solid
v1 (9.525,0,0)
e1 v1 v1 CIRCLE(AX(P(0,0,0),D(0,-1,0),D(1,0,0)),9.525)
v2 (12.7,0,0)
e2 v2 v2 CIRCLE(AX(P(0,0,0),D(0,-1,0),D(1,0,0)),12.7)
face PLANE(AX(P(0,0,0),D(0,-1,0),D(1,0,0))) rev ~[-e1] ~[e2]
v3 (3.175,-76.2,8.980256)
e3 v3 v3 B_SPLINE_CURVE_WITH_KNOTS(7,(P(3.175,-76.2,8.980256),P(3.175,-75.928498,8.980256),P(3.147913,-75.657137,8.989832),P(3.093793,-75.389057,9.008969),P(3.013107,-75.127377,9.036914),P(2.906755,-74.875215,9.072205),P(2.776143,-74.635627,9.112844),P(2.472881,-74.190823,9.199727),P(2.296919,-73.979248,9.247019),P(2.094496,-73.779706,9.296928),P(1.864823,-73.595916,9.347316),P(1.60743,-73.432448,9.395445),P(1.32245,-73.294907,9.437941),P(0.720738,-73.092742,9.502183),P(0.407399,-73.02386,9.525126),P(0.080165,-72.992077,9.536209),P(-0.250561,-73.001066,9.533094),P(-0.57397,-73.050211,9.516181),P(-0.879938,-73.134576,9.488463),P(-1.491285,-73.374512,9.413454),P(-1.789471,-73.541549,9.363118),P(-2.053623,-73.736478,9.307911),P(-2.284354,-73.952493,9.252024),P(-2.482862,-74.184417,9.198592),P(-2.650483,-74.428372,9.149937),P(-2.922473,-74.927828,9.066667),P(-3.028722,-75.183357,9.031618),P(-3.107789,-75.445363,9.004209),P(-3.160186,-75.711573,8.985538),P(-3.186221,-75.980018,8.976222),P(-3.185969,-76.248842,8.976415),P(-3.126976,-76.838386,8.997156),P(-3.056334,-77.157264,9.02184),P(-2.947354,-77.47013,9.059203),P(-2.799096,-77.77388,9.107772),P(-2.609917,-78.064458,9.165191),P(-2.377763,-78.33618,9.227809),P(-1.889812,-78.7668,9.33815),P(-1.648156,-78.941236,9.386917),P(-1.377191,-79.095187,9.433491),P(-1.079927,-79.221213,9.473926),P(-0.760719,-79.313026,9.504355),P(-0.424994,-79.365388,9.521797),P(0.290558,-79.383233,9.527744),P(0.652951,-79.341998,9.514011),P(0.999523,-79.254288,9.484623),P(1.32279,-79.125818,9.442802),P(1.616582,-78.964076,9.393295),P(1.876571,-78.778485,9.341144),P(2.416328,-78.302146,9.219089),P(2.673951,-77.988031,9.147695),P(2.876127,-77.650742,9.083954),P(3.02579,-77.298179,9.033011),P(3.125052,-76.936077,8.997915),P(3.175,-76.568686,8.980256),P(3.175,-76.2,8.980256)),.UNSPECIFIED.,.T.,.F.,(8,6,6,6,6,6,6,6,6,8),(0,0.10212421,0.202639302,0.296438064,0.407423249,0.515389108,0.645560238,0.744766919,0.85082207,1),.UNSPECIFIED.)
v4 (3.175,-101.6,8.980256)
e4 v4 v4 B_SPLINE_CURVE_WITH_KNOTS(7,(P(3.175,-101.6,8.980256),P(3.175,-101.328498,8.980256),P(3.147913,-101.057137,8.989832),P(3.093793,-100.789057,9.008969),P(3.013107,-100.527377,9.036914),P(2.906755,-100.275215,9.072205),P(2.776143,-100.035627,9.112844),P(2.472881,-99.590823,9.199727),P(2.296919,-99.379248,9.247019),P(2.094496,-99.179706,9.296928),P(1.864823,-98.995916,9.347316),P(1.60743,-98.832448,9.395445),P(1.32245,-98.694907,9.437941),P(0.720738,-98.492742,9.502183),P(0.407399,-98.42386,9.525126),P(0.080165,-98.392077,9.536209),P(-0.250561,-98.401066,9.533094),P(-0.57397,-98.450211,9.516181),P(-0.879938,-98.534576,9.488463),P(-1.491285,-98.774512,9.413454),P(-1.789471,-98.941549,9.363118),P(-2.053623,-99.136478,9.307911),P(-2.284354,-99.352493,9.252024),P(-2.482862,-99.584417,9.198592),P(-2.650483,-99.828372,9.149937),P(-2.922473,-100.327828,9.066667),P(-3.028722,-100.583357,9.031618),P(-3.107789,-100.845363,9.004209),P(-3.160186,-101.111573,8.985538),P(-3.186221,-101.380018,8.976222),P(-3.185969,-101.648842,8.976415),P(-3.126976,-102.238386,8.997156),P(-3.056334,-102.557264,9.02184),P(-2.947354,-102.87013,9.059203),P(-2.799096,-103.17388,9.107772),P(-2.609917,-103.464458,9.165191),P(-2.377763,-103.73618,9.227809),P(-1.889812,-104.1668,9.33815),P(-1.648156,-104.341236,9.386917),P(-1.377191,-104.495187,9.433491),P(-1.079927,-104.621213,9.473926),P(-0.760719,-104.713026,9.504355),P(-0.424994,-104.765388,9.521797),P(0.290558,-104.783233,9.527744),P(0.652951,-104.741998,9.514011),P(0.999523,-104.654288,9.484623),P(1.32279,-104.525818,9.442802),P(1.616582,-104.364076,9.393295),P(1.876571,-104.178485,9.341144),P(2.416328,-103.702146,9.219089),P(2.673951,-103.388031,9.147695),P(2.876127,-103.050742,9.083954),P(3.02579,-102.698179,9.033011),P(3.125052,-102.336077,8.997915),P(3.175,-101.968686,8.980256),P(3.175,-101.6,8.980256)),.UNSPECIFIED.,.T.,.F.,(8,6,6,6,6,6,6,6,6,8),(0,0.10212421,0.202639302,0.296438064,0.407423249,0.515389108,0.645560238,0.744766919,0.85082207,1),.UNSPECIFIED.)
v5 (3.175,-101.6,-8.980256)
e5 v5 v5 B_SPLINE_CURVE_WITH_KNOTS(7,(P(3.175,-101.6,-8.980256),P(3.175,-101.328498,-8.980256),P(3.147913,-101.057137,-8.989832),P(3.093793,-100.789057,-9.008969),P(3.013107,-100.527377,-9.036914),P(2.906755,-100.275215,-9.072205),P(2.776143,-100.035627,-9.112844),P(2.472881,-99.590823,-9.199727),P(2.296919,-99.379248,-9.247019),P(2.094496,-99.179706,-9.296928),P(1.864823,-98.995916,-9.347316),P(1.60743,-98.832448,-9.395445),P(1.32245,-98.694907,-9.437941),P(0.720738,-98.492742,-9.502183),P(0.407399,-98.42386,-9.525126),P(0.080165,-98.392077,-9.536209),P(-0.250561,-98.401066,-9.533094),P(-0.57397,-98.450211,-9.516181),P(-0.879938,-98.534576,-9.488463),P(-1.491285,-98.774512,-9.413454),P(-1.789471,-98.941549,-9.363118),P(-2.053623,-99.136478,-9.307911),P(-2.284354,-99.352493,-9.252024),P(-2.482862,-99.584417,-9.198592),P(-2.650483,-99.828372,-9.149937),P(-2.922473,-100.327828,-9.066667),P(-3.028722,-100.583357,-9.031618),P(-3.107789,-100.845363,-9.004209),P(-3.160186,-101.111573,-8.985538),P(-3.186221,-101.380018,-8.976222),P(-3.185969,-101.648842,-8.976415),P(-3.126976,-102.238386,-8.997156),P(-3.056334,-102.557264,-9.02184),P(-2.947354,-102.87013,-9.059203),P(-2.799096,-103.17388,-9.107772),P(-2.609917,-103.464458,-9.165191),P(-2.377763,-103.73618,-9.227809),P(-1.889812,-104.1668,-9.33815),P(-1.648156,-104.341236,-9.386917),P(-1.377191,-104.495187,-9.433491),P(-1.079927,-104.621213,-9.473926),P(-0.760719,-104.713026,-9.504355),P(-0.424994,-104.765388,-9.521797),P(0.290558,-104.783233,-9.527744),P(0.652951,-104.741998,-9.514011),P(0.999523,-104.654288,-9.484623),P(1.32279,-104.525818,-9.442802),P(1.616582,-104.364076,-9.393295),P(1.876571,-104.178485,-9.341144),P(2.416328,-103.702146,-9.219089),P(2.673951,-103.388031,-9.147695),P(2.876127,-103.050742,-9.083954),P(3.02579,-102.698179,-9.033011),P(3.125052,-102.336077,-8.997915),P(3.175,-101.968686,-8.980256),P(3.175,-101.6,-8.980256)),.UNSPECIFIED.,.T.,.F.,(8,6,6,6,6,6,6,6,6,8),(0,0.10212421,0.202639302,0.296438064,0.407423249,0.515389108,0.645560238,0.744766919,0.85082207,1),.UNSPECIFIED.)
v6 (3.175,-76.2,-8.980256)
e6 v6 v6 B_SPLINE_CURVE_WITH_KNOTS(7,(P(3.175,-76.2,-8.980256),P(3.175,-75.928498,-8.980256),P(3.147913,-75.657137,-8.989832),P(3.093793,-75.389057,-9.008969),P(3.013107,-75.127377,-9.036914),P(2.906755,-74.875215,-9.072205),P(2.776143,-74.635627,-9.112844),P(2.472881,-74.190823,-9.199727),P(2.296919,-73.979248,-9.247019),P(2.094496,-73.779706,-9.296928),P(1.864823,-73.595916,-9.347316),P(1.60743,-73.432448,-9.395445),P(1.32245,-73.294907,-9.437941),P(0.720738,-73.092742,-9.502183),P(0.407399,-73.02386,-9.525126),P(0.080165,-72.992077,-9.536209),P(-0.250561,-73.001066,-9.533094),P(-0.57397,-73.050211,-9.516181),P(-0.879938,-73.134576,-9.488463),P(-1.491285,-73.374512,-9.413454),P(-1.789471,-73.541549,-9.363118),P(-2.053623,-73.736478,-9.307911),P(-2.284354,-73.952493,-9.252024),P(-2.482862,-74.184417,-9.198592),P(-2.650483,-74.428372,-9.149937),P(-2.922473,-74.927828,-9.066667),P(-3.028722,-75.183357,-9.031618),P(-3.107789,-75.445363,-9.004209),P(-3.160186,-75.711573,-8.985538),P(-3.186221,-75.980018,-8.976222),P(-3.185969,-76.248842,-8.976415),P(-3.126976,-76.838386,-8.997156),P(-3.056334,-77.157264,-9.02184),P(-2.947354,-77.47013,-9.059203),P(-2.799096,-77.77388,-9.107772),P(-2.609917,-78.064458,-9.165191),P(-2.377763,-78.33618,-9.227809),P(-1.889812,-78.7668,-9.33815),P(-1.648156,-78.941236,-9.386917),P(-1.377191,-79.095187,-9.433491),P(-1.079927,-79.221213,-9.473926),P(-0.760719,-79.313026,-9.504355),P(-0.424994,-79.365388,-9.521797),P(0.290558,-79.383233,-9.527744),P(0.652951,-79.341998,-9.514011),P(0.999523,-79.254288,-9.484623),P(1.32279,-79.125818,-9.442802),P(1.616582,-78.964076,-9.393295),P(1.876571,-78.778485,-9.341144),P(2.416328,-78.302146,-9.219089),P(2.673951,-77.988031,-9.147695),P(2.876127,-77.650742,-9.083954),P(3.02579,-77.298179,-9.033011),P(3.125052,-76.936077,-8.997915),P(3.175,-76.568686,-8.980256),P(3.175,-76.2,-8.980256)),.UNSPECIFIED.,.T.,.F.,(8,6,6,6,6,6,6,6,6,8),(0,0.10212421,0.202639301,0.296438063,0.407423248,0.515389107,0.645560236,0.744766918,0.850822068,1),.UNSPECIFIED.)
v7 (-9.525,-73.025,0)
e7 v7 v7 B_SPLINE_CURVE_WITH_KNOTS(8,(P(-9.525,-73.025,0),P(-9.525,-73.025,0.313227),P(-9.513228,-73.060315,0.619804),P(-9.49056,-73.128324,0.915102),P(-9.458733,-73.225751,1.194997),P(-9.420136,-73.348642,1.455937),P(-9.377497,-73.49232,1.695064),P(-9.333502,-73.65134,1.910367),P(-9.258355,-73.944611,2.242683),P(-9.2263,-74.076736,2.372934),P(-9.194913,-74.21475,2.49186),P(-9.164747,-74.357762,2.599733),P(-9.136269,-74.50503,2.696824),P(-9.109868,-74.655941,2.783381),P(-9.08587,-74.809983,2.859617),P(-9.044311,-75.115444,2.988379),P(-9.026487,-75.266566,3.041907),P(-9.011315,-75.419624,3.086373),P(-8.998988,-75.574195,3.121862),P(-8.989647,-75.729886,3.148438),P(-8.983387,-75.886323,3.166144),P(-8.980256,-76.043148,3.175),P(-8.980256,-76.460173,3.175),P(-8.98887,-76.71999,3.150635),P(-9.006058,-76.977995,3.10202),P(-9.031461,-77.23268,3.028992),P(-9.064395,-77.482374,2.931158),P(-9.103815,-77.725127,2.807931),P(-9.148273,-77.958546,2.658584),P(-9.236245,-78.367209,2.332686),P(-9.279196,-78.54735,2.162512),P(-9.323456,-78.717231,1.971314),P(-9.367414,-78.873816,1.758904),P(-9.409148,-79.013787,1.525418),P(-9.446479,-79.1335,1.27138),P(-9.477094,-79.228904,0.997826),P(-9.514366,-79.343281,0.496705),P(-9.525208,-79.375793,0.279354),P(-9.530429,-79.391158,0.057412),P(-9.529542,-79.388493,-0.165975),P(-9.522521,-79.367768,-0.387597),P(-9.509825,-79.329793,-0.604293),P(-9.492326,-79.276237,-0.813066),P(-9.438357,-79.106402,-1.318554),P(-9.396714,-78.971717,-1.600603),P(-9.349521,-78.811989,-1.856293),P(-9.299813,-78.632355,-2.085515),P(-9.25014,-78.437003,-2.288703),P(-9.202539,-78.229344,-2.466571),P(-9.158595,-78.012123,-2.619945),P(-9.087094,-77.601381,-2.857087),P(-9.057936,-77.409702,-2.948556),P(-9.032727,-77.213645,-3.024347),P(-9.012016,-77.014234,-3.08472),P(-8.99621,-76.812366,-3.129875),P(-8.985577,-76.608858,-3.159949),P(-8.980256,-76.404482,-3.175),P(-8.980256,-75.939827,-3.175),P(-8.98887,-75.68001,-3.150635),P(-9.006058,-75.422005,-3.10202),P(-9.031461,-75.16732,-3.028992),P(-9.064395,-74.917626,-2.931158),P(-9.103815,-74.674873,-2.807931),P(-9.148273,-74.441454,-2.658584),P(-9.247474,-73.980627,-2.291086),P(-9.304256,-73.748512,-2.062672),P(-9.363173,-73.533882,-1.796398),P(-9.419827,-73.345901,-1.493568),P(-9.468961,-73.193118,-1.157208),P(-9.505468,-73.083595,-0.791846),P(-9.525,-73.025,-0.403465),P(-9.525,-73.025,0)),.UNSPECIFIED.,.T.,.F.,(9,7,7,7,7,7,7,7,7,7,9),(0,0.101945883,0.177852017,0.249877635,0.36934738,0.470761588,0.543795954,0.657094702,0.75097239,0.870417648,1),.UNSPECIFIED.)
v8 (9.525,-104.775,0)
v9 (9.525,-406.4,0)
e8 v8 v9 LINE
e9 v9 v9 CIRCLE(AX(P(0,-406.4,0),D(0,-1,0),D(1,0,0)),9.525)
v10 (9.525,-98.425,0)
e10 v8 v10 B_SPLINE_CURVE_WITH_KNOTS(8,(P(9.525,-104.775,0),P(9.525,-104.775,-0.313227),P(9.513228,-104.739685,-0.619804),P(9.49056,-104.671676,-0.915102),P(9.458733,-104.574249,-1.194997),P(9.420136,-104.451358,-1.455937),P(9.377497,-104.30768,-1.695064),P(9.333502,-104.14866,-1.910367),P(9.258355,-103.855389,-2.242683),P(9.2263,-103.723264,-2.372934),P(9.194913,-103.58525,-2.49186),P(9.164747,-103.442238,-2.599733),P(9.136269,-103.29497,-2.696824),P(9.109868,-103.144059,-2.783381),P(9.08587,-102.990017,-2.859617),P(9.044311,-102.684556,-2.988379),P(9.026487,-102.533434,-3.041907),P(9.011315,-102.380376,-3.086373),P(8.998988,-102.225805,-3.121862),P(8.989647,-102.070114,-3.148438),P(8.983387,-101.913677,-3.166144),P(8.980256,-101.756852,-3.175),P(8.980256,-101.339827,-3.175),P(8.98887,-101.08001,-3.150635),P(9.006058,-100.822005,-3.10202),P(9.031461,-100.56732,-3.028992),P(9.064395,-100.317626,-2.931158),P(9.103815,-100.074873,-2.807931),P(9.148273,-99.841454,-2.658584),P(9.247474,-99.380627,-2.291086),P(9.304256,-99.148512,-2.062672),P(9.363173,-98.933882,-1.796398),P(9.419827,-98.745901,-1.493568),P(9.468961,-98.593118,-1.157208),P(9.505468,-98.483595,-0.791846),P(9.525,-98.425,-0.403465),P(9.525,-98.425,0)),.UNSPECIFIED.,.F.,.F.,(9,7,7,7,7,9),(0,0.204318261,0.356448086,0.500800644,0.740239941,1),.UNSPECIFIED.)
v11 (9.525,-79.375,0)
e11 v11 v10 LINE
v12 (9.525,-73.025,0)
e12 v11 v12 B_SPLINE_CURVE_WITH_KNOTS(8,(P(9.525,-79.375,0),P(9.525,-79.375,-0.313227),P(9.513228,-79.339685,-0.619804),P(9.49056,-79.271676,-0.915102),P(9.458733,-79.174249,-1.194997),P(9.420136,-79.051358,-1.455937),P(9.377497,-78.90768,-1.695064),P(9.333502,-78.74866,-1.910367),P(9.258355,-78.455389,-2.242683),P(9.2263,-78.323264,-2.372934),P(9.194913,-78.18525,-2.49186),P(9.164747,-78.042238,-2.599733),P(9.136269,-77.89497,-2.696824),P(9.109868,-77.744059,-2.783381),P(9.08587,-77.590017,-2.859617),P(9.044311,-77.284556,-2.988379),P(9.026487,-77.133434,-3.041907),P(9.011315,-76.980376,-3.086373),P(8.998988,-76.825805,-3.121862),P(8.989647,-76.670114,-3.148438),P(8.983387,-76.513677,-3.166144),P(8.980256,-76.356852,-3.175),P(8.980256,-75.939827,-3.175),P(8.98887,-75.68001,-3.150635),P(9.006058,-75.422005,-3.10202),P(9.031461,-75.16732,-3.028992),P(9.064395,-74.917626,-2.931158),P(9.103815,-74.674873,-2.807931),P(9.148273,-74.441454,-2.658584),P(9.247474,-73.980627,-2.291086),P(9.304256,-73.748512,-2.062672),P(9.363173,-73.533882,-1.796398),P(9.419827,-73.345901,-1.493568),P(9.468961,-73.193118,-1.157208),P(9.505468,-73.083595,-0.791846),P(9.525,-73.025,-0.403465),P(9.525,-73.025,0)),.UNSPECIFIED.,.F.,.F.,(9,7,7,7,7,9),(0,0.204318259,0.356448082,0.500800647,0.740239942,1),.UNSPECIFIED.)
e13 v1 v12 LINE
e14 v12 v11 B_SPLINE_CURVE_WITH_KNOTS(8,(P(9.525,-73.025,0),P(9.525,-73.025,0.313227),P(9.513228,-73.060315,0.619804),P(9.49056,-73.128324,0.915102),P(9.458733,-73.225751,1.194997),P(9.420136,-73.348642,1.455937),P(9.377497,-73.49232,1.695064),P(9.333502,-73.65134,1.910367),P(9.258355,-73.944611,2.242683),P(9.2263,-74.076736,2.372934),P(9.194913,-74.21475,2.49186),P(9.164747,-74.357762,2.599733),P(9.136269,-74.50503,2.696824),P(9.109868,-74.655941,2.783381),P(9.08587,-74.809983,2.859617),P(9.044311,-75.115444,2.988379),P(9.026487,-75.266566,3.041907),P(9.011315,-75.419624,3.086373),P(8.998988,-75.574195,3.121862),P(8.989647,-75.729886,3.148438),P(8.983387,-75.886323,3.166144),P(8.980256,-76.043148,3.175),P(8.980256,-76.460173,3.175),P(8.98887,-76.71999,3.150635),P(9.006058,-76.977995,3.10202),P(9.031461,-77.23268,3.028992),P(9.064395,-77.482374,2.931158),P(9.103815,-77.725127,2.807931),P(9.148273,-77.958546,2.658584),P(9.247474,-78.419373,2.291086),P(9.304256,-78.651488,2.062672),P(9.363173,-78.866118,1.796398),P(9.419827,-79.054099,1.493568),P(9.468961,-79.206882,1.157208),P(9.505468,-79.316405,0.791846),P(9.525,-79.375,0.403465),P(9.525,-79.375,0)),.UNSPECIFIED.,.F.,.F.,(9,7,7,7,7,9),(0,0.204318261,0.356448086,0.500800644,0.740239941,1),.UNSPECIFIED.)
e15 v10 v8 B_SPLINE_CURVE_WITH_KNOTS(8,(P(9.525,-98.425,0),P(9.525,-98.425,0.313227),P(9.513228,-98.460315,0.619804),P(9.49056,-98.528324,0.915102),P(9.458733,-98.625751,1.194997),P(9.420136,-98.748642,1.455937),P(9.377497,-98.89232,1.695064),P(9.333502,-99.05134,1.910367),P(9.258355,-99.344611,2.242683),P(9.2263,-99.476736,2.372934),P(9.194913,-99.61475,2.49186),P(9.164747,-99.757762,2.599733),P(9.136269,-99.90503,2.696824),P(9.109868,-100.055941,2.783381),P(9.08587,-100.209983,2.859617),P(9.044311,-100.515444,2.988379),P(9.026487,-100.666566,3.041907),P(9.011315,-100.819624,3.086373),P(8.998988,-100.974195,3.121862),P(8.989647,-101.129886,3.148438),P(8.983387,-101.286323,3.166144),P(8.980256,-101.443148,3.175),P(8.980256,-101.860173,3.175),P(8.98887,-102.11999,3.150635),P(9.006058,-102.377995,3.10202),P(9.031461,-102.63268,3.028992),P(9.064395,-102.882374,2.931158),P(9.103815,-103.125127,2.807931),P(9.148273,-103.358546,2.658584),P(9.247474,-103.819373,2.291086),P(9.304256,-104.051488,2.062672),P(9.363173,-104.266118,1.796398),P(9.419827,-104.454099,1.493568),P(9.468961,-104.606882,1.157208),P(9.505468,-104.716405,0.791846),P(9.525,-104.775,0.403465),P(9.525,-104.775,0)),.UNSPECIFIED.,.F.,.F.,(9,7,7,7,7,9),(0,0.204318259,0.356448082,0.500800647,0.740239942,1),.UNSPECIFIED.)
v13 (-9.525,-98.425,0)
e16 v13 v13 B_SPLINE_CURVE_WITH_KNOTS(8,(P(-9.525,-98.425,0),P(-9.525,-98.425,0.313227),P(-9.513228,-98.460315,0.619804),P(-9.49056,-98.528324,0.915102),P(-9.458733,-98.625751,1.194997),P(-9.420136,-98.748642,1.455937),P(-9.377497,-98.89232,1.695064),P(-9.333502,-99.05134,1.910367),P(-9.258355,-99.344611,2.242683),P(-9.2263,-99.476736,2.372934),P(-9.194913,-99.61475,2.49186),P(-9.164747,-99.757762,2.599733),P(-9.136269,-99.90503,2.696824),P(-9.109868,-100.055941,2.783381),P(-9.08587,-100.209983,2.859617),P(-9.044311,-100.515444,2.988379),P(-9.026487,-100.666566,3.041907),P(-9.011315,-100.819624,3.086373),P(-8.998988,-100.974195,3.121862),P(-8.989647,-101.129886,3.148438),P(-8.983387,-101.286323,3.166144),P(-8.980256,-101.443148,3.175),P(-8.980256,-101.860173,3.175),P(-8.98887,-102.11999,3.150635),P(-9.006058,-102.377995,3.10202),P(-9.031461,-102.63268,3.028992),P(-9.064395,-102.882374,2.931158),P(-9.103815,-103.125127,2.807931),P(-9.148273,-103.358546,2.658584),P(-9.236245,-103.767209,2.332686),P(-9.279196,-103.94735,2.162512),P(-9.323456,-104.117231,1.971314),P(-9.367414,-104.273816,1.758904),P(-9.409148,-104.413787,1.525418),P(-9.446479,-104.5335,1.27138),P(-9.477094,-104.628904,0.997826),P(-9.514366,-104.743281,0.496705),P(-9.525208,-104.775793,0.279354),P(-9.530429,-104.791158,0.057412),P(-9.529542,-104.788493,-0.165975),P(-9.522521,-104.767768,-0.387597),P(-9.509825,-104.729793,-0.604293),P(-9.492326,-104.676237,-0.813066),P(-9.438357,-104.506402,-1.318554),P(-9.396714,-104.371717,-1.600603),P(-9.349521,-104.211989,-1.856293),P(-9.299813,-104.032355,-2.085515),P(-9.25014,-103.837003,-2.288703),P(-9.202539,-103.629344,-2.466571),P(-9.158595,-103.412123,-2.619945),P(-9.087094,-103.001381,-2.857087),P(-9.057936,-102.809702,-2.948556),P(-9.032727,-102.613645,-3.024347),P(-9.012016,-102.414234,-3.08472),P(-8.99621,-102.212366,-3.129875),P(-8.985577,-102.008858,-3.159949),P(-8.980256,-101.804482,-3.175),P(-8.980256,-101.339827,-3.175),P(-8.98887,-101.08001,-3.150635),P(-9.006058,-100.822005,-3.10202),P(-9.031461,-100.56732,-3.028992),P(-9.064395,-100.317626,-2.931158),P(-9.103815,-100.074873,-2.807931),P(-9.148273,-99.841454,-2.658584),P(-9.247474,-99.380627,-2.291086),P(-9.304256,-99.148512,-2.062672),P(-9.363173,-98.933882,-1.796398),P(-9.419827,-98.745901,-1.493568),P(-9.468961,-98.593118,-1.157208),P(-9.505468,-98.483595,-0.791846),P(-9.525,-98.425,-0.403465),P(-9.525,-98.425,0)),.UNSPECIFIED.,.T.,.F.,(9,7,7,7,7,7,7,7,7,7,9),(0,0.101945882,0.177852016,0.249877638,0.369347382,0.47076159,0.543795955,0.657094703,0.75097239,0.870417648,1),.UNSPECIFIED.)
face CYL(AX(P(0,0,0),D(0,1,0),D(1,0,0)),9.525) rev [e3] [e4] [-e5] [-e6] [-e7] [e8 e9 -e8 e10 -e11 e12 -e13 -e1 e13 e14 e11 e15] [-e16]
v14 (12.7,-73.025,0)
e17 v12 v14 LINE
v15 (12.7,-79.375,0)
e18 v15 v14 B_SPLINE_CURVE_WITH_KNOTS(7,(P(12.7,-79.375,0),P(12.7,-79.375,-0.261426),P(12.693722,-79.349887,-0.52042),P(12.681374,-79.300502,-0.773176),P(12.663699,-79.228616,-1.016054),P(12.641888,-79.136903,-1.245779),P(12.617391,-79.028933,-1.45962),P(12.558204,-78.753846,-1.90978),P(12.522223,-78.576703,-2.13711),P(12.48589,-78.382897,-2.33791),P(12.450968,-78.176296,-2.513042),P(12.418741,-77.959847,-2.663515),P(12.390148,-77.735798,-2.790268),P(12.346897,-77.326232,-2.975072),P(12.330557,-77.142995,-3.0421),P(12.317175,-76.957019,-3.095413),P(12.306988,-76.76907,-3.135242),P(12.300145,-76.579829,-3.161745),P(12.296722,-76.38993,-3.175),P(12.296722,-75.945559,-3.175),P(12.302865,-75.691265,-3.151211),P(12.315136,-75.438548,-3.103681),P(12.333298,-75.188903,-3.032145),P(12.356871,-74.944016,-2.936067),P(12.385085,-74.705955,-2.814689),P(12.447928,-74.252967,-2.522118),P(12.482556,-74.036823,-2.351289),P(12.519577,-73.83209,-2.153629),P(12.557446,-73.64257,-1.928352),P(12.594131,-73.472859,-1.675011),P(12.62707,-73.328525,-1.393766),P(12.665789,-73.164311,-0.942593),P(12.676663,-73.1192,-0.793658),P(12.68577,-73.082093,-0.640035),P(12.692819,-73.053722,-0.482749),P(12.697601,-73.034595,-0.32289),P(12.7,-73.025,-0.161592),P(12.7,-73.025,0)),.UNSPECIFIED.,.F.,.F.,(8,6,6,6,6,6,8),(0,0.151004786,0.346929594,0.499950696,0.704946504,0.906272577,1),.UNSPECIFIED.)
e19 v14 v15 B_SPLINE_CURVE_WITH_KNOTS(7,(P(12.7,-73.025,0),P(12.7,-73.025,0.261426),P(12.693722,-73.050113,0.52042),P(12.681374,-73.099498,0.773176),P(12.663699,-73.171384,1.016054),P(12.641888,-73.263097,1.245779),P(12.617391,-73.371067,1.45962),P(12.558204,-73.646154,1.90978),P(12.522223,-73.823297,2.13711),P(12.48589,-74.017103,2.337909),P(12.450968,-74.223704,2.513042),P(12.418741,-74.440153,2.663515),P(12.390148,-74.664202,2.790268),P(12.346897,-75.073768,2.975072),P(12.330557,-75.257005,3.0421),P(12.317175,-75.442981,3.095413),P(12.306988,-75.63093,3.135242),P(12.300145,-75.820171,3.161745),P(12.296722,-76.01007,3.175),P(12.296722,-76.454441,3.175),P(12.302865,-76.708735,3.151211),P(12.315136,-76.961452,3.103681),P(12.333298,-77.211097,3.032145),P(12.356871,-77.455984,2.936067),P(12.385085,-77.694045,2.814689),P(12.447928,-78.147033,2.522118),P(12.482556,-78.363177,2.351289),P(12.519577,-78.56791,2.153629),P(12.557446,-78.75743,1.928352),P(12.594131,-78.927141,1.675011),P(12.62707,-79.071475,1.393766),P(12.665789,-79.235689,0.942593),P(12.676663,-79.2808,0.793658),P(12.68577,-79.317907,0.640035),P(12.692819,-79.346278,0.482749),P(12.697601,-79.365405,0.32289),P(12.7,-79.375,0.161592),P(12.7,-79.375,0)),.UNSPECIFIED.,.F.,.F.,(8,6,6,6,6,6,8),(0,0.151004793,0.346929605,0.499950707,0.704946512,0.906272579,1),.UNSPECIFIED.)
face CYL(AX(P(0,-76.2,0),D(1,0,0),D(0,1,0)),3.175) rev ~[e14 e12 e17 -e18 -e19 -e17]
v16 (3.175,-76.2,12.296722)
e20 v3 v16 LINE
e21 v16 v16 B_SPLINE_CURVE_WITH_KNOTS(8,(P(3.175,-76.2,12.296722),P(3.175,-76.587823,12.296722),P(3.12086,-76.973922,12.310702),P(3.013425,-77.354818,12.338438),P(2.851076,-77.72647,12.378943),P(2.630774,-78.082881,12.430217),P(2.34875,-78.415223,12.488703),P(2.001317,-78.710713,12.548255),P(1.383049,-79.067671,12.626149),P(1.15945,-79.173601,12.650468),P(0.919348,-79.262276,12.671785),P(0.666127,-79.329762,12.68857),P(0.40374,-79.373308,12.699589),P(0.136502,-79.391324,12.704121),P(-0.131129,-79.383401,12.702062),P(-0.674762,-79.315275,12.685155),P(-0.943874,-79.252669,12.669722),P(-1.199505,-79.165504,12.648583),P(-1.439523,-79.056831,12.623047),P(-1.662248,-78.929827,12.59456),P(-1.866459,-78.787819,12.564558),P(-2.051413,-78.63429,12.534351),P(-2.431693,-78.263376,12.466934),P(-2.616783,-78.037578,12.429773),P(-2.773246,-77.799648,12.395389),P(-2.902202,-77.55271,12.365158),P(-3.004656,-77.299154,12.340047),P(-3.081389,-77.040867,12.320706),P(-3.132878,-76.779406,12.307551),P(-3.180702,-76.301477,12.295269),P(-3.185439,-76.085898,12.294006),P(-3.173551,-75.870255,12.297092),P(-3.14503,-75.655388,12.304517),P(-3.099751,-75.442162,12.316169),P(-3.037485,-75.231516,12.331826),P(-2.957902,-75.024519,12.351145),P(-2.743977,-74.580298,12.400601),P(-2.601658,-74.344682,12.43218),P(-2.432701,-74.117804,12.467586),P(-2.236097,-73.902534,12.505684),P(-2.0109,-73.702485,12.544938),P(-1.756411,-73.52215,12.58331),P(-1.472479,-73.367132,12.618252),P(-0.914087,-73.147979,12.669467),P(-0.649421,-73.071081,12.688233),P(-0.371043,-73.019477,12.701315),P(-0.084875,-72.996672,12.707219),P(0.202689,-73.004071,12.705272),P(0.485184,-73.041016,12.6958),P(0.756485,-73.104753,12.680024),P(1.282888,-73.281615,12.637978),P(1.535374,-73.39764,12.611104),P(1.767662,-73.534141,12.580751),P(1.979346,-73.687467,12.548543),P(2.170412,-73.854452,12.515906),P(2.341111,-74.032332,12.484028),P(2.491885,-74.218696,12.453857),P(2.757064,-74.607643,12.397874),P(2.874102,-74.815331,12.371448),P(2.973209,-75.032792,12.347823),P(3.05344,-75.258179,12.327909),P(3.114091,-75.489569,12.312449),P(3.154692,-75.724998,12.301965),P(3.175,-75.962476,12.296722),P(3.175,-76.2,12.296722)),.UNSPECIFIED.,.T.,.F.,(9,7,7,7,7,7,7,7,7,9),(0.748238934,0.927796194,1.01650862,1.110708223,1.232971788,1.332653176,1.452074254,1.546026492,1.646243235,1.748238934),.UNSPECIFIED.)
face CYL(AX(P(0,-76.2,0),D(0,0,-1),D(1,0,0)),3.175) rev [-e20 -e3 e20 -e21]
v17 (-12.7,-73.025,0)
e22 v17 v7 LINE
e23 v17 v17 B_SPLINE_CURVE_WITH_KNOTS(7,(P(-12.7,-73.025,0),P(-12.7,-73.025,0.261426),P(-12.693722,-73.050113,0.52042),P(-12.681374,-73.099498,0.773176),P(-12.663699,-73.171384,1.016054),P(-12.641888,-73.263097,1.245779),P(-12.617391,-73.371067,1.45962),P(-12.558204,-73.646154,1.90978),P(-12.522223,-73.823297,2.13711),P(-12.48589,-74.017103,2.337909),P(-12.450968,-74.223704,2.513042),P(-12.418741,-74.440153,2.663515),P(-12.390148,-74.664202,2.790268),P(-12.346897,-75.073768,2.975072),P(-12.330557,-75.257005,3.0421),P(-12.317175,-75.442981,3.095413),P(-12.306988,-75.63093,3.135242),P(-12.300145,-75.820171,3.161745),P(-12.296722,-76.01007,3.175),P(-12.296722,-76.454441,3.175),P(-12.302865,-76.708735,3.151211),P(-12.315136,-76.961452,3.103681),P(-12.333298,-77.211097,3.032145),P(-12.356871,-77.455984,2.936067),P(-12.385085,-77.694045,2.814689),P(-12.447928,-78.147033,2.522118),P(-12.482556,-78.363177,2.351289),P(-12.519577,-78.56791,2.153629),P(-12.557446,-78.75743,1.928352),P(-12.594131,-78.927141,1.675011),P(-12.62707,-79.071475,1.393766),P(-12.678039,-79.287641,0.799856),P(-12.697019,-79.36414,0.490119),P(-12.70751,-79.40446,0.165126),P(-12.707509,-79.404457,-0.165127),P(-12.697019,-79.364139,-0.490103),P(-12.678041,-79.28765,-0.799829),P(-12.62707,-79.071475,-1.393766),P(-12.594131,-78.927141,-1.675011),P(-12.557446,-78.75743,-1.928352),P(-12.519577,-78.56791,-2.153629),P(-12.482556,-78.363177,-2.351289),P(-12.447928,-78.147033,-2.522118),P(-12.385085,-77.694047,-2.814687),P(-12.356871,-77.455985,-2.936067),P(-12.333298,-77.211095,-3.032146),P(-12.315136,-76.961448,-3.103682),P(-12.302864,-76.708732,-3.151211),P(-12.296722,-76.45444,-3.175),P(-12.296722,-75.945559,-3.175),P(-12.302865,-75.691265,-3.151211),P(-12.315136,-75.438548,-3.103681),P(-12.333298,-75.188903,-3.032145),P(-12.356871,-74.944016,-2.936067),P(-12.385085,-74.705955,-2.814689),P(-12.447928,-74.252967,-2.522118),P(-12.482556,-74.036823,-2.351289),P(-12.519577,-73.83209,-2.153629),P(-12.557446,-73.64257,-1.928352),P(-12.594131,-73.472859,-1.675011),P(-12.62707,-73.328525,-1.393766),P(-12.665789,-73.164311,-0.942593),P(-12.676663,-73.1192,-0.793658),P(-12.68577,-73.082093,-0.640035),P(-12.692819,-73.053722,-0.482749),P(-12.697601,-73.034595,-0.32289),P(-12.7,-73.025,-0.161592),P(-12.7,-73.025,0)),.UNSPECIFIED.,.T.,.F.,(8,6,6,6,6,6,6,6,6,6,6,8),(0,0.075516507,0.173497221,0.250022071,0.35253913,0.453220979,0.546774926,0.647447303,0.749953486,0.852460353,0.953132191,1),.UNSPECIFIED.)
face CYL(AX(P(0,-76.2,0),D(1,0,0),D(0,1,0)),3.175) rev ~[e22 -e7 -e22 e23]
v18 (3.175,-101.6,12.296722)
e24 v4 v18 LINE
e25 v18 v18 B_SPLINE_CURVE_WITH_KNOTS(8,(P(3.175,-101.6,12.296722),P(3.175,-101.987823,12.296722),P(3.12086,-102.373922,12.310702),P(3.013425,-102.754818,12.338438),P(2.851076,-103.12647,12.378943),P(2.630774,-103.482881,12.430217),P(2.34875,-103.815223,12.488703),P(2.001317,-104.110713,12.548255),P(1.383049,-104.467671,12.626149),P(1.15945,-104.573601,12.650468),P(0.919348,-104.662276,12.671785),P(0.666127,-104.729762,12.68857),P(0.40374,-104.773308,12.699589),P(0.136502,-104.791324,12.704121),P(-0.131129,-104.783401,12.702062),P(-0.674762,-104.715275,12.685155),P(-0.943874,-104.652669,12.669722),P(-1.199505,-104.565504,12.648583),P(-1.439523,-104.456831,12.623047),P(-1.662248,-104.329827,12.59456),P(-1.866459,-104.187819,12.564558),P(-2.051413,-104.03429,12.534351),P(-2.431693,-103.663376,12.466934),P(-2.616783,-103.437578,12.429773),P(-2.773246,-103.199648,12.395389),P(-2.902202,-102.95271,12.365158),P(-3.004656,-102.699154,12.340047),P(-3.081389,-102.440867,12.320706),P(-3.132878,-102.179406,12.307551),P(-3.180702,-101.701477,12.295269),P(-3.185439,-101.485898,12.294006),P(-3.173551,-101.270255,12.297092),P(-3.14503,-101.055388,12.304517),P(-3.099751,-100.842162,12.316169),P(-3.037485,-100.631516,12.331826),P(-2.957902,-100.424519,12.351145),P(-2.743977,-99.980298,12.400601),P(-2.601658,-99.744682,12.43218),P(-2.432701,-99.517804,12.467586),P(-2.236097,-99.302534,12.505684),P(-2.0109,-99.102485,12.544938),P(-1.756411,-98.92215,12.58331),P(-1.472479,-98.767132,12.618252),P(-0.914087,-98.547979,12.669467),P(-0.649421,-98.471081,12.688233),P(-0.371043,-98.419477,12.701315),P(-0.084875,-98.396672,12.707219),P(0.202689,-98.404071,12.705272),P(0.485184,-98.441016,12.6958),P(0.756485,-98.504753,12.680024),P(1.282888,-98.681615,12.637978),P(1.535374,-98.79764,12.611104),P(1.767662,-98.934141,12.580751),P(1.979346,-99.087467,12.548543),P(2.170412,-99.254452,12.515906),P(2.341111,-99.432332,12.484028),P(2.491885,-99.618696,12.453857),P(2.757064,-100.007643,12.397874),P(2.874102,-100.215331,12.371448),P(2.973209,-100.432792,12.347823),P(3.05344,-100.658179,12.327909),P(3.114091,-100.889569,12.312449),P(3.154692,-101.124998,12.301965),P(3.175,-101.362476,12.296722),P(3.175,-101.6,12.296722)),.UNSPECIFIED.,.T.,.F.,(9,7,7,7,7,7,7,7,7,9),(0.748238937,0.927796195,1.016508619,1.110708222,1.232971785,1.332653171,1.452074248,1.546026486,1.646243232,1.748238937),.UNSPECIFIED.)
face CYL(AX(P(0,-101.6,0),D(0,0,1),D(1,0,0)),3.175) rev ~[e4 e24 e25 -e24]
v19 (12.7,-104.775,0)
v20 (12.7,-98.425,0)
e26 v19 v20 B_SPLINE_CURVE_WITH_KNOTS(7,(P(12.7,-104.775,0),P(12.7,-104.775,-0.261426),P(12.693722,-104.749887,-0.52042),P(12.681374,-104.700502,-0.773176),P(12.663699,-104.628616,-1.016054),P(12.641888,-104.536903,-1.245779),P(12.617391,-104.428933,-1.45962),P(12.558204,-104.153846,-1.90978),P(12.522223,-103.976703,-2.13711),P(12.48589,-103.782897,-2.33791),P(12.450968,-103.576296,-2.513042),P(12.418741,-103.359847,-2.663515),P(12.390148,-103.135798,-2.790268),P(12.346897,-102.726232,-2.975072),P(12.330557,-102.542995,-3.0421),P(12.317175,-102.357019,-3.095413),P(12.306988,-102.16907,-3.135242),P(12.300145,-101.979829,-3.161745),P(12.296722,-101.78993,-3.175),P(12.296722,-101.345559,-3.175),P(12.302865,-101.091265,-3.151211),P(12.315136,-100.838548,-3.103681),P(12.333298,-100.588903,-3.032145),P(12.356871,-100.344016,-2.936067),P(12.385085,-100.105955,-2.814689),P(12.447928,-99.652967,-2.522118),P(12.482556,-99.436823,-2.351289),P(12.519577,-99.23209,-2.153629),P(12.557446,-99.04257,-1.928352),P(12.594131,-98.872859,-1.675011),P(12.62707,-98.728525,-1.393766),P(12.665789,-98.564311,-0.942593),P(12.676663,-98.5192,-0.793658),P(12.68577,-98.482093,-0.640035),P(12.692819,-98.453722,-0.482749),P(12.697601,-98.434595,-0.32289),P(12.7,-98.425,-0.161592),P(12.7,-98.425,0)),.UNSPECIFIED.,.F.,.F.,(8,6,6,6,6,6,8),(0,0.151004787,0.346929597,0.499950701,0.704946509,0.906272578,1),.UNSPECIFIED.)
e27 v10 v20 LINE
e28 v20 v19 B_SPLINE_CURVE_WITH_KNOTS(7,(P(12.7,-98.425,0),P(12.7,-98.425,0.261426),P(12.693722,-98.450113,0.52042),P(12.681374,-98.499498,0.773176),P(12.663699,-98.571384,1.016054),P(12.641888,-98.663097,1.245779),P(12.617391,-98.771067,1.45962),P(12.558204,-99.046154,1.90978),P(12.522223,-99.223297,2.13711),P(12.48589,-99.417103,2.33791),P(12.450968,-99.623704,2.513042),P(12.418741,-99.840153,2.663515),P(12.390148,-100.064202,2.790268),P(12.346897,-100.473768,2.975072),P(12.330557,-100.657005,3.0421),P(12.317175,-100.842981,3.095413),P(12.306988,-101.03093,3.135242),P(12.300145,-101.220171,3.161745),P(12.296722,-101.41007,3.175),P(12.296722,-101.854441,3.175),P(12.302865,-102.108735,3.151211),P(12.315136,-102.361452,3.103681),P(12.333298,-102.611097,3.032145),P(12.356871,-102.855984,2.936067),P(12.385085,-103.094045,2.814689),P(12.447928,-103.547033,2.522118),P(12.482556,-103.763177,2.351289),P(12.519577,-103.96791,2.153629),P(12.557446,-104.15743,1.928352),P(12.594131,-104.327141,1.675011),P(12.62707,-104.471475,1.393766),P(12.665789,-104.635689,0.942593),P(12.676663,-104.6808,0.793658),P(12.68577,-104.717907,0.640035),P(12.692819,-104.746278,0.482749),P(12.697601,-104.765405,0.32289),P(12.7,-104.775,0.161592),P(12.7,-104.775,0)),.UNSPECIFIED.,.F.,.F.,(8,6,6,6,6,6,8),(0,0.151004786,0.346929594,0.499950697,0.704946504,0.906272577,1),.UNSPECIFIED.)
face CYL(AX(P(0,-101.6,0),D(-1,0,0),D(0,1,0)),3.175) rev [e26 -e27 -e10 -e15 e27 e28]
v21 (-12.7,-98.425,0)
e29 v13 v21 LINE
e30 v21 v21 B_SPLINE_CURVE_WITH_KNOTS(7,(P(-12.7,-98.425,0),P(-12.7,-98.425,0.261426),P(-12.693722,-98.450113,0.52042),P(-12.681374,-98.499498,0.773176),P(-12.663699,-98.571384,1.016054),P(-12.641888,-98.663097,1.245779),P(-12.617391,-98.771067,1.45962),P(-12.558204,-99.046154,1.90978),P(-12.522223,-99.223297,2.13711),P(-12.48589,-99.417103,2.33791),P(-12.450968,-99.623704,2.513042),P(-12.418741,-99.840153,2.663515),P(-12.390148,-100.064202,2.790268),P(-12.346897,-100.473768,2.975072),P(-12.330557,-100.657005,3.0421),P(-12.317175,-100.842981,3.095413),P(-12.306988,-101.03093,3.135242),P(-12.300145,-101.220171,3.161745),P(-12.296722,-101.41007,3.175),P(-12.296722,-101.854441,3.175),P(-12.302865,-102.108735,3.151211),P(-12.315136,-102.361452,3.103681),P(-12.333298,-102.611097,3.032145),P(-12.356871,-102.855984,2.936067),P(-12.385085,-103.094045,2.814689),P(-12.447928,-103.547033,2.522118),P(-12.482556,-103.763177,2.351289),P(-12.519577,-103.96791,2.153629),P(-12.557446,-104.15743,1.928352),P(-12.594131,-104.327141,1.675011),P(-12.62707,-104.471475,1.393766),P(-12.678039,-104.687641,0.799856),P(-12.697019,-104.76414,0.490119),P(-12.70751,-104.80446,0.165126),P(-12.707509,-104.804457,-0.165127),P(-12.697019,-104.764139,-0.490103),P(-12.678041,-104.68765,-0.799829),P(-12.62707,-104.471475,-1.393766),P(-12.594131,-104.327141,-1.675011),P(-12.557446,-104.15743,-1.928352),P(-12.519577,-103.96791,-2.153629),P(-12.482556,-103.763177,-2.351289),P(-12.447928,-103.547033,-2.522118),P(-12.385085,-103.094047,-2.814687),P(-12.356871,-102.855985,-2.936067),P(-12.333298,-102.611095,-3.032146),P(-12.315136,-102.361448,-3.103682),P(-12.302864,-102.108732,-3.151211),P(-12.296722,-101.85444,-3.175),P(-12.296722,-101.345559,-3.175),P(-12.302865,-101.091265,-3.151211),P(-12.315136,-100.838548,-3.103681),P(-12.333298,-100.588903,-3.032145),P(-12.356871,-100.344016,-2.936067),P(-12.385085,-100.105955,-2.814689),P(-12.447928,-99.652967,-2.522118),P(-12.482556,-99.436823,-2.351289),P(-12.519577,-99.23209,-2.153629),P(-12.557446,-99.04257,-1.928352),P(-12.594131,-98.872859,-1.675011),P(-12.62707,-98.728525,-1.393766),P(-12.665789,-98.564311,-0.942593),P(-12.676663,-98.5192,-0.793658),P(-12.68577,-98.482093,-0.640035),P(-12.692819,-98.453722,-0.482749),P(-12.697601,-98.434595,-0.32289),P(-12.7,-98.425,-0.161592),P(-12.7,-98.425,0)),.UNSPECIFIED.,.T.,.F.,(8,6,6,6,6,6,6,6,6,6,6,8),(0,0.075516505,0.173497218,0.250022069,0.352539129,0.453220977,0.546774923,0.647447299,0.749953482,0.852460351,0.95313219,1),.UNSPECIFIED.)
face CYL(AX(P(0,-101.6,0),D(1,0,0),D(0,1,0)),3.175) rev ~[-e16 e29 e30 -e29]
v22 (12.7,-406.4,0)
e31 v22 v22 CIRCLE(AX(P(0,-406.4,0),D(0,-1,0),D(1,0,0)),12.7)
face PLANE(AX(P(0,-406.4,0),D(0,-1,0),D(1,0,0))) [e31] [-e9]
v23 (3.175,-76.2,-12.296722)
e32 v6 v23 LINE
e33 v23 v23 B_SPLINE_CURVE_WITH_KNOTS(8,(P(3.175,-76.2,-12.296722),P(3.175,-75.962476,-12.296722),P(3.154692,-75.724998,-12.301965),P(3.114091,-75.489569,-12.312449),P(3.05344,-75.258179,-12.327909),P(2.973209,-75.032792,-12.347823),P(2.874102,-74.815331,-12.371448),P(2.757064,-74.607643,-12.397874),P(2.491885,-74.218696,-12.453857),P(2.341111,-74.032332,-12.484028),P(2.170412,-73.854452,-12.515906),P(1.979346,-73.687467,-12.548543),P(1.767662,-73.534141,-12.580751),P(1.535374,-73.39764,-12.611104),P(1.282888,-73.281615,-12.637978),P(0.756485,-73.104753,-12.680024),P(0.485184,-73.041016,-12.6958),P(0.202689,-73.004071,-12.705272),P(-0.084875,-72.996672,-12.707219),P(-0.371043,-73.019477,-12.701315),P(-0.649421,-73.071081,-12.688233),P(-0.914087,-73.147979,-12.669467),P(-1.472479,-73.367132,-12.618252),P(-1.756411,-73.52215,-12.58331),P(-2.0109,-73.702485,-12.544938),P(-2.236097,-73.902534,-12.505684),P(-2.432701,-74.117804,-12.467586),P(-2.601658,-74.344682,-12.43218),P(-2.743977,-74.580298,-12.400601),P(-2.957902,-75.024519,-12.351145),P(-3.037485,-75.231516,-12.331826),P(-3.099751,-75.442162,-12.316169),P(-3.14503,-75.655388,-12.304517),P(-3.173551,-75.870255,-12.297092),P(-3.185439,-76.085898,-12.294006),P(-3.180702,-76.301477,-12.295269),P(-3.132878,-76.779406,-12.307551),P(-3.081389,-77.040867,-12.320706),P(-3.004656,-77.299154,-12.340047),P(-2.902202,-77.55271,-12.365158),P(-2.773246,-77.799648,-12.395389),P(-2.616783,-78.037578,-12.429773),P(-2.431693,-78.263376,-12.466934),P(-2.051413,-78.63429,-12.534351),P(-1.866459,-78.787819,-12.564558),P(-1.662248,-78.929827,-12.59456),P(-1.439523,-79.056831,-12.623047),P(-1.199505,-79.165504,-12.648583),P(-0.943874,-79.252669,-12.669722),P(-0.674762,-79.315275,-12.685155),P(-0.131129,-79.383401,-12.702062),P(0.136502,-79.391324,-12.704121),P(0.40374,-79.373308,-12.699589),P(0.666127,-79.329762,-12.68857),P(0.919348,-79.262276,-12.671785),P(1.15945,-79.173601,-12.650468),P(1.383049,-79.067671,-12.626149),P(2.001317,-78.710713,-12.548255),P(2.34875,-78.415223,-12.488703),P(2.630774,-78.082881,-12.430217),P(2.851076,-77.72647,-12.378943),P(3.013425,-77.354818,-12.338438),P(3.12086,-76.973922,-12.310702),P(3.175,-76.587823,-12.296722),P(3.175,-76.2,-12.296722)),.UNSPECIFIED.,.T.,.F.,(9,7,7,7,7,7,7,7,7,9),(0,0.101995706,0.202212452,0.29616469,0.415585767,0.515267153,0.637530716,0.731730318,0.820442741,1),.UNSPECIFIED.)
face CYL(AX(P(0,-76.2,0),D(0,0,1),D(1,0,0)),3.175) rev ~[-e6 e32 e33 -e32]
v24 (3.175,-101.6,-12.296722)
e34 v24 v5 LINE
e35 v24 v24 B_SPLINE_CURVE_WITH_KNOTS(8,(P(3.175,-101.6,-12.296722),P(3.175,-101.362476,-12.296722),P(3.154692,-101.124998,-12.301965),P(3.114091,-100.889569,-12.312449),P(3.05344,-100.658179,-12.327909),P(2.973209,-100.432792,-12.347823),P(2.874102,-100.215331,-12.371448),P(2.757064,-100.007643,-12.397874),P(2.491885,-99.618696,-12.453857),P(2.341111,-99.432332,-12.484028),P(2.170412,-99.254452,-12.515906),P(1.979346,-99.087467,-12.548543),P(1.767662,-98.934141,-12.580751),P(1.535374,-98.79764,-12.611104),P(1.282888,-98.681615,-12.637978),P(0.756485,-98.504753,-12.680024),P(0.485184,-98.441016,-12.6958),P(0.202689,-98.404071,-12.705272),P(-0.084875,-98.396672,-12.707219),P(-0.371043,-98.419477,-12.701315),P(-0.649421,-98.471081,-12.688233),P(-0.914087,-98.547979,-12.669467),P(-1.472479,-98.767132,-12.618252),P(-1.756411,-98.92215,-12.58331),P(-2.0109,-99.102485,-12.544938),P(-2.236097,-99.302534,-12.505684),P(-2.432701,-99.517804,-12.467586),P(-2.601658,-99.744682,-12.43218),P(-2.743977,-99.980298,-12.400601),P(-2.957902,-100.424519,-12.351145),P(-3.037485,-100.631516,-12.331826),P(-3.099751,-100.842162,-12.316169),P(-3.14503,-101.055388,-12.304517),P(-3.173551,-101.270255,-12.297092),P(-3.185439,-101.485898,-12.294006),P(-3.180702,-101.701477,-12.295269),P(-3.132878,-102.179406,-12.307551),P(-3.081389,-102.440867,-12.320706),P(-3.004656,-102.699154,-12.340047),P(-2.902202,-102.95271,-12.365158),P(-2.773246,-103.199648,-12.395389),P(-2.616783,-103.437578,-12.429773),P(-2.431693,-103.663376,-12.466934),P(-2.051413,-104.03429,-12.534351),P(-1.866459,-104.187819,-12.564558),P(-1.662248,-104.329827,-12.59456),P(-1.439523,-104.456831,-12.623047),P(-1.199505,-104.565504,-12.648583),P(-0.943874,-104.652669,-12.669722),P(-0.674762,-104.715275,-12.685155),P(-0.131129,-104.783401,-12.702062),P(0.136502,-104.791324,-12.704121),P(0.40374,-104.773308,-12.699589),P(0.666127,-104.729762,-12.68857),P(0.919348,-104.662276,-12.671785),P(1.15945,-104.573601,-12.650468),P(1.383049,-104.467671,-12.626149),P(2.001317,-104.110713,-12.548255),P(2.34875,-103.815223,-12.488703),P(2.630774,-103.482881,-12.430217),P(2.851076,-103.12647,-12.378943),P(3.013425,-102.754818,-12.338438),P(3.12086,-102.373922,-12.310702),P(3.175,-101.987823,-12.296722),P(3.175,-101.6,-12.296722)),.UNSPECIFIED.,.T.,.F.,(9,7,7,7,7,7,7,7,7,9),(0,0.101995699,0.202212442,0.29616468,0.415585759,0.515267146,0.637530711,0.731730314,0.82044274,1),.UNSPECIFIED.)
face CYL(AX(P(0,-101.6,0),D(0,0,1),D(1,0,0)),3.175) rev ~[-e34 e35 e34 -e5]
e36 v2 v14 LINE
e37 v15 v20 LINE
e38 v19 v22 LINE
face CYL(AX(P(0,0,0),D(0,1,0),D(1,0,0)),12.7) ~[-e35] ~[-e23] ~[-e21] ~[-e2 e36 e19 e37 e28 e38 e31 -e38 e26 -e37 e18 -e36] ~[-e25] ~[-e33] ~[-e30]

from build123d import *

# Parameters (mm, degrees)
F0_R     = 12.7
F0_R_2   = 9.525
F1_DEPTH = 406.4
F2_R     = 3.175
F3_DEPTH = 12.7
F4_R     = 3.175
F5_DEPTH = 12.7


with BuildPart() as f1:
    # F0 (on Front) → F1 (new body)
    with BuildSketch(Plane.XZ):
        Circle(F0_R)
        Circle(F0_R_2, mode=Mode.SUBTRACT)
    extrude(amount=F1_DEPTH)

    # F2 (on Right) → F3 (cut, symmetric)
    with BuildSketch(Plane.YZ):
        with Locations((-101.6, 0)):
            Circle(F2_R)
        with Locations((-76.2, 0)):
            Circle(F2_R)
    extrude(amount=F3_DEPTH, both=True, mode=Mode.SUBTRACT)

    # F4 (on Top) → F5 (cut, symmetric)
    with BuildSketch(Plane.XY):
        with Locations((0, -76.2)):
            Circle(F4_R)
        with Locations((0, -101.6)):
            Circle(F4_R)
    extrude(amount=F5_DEPTH, both=True, mode=Mode.SUBTRACT)


solid = f1.part
